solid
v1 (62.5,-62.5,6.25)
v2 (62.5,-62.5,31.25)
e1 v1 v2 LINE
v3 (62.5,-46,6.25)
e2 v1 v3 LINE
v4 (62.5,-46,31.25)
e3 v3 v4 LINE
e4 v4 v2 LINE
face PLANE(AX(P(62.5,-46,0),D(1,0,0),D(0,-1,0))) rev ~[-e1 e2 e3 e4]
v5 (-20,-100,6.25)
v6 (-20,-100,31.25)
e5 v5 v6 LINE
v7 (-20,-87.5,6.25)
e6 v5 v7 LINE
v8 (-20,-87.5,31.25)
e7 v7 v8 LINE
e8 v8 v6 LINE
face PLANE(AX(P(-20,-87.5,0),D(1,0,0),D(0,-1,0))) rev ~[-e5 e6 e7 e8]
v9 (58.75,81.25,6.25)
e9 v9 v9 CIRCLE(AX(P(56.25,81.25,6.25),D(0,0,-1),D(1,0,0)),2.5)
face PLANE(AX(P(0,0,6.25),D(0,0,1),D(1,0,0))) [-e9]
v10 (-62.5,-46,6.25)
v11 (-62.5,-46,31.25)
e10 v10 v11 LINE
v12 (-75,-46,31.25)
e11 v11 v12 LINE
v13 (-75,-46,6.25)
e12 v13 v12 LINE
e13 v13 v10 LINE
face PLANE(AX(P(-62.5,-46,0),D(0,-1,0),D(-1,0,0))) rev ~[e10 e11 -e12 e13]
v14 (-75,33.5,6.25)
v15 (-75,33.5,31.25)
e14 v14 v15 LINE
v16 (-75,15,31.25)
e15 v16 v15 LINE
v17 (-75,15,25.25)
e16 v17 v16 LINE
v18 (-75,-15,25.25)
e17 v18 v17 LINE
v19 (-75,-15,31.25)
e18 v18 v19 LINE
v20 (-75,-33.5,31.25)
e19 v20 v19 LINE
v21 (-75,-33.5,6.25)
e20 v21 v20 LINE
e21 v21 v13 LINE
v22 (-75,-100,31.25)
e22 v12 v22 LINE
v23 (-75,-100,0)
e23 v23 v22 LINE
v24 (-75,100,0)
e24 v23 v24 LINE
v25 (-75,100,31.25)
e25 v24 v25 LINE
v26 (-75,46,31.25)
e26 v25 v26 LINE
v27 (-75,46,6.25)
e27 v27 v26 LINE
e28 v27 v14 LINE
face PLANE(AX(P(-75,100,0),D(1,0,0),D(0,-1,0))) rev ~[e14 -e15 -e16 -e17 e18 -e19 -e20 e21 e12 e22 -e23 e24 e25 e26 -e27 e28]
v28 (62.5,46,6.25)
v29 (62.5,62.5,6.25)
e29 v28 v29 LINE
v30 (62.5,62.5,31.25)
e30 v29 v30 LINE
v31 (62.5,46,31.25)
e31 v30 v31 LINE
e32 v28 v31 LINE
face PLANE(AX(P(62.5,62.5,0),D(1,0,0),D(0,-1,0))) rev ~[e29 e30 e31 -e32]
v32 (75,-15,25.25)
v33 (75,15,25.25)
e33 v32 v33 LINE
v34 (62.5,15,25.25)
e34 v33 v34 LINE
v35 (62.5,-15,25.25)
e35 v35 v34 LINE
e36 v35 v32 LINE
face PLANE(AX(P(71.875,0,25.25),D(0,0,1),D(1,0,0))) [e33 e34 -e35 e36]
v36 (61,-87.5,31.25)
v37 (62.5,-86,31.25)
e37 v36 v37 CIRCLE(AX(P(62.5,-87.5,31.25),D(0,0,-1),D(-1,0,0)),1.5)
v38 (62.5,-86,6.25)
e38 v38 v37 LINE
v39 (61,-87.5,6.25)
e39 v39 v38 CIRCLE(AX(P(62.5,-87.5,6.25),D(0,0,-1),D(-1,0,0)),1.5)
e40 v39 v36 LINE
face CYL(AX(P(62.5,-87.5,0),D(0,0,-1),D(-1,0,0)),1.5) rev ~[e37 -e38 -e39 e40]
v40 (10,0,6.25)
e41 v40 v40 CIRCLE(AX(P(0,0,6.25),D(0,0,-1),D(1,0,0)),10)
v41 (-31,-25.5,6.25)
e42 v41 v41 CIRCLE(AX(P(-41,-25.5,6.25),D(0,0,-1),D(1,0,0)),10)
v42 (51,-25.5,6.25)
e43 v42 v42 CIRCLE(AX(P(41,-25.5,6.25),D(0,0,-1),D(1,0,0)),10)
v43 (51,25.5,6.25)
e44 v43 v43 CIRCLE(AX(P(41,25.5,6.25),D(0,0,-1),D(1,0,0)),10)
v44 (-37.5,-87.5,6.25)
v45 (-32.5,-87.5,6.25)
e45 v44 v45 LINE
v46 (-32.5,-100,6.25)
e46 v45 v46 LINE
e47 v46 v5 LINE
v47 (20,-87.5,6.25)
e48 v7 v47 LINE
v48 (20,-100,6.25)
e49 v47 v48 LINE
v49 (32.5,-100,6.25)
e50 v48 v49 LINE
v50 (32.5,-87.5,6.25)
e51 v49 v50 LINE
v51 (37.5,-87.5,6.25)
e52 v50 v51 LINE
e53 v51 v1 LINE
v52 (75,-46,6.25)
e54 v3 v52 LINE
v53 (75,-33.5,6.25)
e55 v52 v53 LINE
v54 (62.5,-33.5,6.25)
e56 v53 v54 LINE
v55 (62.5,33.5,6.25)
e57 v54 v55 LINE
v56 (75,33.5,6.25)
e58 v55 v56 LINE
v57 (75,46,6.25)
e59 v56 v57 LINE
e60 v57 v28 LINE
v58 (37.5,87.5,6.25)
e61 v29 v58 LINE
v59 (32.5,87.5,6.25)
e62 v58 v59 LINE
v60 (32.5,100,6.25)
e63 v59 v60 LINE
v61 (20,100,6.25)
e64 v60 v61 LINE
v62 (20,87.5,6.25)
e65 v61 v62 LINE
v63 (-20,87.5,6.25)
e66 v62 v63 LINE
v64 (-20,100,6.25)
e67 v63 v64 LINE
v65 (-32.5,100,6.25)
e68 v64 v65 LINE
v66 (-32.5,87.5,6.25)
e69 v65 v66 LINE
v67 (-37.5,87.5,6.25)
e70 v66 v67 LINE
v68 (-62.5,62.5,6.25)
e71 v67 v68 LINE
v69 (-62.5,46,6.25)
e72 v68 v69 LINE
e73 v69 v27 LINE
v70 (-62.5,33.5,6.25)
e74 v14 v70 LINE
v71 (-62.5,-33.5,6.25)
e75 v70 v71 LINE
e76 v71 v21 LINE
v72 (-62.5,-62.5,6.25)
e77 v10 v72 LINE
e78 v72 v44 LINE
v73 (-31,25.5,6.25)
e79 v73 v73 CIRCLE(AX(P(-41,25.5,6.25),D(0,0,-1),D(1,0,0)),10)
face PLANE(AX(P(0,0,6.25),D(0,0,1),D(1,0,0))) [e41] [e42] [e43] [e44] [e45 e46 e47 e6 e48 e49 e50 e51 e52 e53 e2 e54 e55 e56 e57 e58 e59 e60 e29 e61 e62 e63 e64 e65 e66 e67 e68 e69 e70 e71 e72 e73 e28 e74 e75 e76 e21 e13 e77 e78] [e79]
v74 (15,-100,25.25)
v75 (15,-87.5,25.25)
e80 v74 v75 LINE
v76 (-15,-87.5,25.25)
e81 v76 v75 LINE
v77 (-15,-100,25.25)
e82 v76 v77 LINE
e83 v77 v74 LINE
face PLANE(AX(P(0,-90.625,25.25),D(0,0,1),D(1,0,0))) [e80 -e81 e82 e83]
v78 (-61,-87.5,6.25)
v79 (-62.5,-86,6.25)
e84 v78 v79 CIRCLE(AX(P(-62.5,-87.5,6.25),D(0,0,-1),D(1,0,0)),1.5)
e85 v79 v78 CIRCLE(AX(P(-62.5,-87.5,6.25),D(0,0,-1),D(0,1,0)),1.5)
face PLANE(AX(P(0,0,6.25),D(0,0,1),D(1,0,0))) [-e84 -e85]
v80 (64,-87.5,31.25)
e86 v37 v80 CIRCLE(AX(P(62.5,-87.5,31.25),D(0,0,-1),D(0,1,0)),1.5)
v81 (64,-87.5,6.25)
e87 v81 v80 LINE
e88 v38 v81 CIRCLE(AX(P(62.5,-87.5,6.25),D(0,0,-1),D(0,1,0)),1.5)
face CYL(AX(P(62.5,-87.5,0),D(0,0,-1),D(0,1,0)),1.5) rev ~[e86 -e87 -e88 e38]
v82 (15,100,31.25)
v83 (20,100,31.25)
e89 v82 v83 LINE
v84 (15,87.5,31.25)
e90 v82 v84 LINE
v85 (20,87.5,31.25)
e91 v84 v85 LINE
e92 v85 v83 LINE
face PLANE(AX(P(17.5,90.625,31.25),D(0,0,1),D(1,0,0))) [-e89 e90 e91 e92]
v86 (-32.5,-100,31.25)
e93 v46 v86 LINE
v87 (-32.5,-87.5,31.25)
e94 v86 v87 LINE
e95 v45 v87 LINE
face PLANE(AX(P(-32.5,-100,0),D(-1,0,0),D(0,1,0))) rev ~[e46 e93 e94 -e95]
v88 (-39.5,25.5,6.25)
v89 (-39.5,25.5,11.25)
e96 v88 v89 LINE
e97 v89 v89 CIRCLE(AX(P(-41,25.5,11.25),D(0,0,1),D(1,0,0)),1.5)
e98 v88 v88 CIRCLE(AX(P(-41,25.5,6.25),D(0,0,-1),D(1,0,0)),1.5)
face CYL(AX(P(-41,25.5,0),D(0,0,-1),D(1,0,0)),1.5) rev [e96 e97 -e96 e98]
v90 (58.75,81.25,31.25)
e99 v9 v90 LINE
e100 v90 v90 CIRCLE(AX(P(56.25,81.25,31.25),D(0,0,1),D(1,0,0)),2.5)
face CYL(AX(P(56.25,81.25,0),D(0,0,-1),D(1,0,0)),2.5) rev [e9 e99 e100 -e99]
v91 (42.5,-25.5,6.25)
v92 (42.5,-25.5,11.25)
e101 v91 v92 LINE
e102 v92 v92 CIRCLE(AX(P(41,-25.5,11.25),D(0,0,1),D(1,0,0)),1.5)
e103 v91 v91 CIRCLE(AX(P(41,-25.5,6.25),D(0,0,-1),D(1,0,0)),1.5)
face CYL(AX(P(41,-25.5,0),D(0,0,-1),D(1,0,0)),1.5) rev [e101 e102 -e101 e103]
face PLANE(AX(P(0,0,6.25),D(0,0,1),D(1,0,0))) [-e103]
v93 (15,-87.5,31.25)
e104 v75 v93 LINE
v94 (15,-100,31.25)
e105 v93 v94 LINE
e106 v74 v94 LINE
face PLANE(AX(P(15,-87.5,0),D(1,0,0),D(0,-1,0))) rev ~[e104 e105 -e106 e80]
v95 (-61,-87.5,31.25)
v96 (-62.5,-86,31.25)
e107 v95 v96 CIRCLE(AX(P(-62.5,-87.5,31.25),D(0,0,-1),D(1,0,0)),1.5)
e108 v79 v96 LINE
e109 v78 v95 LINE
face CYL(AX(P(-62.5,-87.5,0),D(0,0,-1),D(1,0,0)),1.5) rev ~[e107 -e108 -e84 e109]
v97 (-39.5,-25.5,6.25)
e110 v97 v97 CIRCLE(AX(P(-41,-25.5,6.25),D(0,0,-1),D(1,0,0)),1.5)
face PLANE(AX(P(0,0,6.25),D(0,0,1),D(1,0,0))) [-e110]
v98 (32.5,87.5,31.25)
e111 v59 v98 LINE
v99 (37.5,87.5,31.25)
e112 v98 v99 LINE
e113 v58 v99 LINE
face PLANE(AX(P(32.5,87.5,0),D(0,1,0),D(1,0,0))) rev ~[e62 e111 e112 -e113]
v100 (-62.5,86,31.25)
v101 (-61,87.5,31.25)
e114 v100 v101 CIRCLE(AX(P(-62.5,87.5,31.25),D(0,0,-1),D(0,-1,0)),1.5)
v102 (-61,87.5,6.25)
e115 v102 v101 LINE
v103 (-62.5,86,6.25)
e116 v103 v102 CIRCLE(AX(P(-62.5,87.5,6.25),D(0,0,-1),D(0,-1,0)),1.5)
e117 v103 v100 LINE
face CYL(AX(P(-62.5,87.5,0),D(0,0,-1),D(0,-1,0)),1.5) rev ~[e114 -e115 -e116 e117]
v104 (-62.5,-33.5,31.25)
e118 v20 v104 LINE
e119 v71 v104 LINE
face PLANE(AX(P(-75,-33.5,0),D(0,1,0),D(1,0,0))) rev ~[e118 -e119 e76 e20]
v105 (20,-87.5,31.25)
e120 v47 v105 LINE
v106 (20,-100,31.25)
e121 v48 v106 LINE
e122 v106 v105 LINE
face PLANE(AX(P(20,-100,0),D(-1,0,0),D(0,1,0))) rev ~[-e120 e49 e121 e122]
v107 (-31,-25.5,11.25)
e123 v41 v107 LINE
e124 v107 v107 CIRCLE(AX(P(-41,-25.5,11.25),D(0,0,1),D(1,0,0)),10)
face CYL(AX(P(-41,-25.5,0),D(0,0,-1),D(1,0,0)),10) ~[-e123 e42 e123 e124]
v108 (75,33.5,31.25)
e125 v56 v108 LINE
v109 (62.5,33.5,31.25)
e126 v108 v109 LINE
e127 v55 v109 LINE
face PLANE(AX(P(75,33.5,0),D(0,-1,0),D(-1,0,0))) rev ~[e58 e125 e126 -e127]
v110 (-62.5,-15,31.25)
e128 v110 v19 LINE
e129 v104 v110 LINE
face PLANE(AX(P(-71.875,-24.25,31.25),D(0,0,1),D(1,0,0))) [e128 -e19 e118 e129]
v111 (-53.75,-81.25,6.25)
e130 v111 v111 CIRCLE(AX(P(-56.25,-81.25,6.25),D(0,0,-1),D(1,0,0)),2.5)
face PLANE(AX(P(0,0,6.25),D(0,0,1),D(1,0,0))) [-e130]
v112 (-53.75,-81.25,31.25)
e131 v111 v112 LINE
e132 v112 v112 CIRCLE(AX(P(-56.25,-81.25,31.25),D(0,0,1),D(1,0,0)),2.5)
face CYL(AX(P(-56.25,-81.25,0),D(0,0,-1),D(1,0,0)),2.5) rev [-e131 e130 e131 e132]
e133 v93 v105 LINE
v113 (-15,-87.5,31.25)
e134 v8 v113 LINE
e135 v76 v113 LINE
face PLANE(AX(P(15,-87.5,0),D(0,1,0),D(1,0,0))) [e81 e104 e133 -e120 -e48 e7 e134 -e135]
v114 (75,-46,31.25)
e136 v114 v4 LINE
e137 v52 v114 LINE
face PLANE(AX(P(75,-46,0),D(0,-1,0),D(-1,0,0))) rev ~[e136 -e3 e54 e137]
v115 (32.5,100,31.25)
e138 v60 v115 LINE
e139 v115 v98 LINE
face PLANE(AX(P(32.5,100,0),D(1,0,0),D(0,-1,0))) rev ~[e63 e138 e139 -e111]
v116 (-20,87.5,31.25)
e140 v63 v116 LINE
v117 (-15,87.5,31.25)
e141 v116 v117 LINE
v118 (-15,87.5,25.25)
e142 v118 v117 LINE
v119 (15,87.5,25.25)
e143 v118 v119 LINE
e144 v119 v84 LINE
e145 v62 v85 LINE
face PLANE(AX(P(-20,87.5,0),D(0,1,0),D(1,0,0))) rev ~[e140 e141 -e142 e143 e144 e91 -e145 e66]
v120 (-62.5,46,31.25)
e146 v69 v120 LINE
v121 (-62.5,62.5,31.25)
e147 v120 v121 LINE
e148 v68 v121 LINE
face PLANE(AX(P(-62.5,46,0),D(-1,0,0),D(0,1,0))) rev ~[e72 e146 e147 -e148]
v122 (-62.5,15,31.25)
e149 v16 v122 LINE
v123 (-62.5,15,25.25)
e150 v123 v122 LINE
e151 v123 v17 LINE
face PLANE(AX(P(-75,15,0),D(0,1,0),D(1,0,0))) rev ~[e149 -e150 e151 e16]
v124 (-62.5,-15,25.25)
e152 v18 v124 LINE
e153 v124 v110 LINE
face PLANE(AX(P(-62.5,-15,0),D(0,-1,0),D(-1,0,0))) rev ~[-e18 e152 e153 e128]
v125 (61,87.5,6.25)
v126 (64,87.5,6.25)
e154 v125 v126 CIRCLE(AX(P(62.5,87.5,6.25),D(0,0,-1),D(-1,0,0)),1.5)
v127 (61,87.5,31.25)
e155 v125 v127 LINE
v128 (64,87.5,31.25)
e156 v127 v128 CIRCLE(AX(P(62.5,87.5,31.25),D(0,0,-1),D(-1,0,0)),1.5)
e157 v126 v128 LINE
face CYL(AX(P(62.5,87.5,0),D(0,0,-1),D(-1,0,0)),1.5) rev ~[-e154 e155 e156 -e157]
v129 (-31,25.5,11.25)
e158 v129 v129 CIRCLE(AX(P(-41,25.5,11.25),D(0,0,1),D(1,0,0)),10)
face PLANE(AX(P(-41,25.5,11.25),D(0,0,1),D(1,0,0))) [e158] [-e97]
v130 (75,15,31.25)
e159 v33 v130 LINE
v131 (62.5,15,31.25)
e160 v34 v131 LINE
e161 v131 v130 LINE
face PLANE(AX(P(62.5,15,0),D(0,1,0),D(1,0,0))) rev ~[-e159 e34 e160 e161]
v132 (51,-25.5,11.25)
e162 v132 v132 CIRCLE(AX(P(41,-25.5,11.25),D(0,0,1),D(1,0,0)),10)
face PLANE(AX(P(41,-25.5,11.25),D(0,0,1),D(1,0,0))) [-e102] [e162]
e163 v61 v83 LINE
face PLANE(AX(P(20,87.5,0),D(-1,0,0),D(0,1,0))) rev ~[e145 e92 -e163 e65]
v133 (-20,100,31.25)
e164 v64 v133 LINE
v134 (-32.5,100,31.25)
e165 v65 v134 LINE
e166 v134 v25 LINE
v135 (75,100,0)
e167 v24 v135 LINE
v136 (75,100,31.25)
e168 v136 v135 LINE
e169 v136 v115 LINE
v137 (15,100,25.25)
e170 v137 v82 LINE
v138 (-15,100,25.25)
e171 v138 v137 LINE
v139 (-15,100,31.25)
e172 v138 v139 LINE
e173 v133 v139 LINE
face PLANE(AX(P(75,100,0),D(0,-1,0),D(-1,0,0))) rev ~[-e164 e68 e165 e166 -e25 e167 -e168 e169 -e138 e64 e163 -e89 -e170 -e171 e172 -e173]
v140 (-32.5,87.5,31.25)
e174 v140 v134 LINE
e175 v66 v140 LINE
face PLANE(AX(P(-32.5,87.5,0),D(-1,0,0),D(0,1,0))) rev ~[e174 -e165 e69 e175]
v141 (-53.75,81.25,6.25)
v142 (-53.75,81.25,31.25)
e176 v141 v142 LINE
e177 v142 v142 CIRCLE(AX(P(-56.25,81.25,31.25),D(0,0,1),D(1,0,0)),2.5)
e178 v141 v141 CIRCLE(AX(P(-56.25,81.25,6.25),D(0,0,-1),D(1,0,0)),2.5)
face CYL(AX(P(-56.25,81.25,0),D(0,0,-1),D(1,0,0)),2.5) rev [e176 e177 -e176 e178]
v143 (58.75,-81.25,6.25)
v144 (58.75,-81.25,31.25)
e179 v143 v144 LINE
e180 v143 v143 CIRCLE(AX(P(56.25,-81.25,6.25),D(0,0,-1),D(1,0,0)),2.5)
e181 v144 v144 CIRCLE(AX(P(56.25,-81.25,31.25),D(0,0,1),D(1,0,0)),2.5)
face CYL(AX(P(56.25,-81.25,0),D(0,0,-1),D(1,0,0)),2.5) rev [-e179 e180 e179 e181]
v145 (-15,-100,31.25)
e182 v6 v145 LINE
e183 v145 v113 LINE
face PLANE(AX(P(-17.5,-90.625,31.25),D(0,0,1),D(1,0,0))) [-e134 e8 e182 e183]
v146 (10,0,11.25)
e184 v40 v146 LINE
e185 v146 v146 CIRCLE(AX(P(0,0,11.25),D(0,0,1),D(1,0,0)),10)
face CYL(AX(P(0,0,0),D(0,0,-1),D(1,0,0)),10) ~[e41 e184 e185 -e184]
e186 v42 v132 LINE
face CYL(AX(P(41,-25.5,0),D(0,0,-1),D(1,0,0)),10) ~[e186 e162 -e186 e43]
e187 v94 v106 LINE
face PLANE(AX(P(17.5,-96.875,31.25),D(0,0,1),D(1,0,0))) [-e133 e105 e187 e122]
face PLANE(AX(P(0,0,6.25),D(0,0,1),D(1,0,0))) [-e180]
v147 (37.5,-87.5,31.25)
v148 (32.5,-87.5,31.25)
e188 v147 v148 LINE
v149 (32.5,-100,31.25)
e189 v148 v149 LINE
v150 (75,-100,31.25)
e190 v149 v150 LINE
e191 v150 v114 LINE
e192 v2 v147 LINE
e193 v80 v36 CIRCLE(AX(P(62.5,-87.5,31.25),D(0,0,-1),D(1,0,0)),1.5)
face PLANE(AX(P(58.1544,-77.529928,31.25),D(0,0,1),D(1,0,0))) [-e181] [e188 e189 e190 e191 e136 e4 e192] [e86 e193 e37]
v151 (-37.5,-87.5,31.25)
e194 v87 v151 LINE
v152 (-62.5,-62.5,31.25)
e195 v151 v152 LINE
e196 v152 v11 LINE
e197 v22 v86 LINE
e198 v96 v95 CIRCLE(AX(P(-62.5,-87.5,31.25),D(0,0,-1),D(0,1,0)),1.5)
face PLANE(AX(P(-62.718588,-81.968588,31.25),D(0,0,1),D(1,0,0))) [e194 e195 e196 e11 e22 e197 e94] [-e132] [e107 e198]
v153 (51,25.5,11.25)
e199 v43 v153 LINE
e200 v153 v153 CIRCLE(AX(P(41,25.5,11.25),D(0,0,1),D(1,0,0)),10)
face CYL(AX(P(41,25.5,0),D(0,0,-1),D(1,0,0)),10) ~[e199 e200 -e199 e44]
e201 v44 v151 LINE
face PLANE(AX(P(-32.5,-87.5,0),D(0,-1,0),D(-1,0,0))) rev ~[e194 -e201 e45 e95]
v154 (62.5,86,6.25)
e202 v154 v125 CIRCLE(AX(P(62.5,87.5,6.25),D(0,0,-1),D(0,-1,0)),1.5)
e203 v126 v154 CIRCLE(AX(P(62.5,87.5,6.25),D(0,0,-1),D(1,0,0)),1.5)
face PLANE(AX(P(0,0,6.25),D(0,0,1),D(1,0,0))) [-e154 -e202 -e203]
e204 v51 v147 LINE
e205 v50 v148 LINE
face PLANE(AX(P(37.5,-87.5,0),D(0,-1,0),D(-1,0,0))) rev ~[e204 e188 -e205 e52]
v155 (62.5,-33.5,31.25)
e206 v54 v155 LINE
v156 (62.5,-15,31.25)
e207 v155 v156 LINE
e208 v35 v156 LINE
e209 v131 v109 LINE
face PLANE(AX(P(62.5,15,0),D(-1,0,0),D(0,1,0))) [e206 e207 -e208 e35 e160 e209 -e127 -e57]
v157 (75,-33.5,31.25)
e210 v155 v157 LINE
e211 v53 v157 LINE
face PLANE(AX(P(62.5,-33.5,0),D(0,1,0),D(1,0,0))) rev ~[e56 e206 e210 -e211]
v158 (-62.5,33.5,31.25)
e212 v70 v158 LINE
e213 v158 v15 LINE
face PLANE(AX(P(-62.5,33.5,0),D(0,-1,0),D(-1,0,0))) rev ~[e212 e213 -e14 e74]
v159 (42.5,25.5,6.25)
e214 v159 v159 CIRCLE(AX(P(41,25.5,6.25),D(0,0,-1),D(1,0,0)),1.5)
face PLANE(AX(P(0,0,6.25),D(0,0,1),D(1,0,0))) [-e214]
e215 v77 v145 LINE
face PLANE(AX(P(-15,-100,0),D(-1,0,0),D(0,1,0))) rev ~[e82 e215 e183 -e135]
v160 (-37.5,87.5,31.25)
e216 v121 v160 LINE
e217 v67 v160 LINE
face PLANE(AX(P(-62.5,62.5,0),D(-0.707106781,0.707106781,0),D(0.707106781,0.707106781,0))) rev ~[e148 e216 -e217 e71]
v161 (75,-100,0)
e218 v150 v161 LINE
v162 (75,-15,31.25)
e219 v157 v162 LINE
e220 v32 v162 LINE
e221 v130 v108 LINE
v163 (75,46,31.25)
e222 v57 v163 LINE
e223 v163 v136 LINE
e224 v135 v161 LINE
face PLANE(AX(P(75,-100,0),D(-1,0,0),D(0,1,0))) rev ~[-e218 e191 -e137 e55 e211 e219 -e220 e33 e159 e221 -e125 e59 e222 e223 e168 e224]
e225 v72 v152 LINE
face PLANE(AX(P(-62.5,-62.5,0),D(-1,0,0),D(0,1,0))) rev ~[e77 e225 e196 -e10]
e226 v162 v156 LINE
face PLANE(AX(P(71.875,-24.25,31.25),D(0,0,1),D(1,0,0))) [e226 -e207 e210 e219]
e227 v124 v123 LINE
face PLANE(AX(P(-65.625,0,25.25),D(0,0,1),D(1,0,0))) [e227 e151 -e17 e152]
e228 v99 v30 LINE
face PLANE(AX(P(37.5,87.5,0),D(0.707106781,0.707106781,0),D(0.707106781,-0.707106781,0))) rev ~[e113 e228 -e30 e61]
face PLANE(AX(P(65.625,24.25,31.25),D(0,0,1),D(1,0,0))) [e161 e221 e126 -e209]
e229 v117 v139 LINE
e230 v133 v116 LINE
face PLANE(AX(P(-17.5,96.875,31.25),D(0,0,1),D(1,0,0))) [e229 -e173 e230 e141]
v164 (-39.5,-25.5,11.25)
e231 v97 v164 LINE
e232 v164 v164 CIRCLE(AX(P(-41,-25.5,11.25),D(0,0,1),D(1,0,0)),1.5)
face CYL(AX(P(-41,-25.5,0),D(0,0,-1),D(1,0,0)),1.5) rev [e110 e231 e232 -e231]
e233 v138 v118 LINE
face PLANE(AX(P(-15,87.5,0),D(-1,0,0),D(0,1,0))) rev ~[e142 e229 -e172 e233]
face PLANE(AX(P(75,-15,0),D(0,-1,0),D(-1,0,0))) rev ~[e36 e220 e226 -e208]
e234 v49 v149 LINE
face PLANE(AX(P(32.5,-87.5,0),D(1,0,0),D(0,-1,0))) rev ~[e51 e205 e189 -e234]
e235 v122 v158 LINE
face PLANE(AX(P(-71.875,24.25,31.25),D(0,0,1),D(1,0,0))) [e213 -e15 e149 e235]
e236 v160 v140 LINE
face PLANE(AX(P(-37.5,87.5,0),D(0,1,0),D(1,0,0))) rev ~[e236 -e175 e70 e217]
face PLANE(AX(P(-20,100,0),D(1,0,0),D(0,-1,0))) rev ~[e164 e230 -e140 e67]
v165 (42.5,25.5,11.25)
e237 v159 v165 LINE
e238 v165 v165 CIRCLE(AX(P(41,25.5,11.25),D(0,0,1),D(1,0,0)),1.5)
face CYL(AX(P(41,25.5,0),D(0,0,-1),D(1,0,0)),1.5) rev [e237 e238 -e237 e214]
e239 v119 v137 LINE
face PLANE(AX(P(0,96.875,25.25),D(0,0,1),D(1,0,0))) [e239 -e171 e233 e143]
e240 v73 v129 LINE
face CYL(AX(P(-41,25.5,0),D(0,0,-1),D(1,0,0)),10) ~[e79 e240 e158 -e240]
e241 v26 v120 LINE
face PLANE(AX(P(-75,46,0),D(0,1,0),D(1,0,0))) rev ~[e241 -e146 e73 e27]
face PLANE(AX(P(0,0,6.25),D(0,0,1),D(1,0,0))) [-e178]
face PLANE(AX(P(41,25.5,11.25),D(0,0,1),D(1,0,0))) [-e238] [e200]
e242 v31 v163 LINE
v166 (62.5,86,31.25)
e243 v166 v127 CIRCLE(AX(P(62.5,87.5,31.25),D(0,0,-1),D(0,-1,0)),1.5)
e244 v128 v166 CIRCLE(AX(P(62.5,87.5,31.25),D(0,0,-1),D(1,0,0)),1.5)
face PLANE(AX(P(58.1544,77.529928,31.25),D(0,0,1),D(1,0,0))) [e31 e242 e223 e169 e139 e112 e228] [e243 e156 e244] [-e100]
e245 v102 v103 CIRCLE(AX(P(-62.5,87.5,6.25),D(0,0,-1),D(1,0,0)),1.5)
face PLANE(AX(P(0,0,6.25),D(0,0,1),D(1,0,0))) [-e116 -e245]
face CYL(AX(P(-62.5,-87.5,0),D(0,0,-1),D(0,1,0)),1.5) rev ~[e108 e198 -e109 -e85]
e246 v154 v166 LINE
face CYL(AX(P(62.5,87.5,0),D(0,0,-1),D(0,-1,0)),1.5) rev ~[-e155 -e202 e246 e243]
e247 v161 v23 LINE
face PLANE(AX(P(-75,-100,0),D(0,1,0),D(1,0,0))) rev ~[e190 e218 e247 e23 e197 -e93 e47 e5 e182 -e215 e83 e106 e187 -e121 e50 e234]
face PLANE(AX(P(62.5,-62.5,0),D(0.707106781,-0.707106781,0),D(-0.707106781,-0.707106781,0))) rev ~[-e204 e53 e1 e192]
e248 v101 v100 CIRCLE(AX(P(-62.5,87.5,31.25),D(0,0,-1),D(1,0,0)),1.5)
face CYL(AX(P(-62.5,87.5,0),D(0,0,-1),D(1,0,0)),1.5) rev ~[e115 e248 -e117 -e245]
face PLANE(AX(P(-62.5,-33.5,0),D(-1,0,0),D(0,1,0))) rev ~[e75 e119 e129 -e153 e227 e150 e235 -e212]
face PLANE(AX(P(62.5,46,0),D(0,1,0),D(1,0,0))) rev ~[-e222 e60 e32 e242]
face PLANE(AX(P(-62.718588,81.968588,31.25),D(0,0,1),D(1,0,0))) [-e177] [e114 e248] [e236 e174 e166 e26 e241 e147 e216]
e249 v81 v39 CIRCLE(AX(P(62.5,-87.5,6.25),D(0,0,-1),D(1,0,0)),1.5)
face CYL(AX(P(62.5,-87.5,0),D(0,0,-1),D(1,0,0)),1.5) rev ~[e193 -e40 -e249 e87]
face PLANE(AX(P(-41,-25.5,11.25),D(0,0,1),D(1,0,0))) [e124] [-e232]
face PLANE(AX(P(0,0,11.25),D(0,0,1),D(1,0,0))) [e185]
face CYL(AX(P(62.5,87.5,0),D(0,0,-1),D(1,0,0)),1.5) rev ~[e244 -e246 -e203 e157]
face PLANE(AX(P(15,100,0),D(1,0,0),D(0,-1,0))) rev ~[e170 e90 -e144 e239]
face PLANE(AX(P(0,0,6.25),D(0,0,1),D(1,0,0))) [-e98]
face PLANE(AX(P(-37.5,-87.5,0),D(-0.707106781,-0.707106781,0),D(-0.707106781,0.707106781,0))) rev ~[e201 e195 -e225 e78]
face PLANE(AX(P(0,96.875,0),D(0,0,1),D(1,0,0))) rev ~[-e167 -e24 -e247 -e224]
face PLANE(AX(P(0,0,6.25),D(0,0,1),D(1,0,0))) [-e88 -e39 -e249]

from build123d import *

# Parameters (mm, degrees)
F0_R     = 10
F0_R_2   = 1.5
F0_R_3   = 2.5
F0_W     = 30
F0_H     = 6.25
F0_W_2   = 6.25
F0_H_2   = 30
F0_H_3   = 18.5
F0_H_4   = 12.5
F0_W_3   = 12.5
F0_W_4   = 5
F1_DEPTH = 6.25
F2_DEPTH = 11.25
F3_DEPTH = 31.25
F4_DEPTH = 25.25


with BuildPart() as f1:
    # F0 (on Top) → F1 (new body)
    with BuildSketch(Plane.XY):
        Polygon((-20, 87.5), (-32.5, 87.5), (-37.5, 87.5), (-62.5, 62.5), (-62.5, 46), (-62.5, 33.5), (-62.5, 15), (-62.5, -15), (-62.5, -33.5), (-62.5, -46), (-62.5, -62.5), (-37.5, -87.5), (-32.5, -87.5), (-20, -87.5), (-15, -87.5), (15, -87.5), (20, -87.5), (32.5, -87.5), (37.5, -87.5), (62.5, -62.5), (62.5, -46), (62.5, -33.5), (62.5, -15), (62.5, 15), (62.5, 33.5), (62.5, 46), (62.5, 62.5), (37.5, 87.5), (32.5, 87.5), (20, 87.5), (15, 87.5), (-15, 87.5), align=None)
        with Locations((-41, -25.5)):
            Circle(F0_R, mode=Mode.SUBTRACT)
        with Locations((41, -25.5)):
            Circle(F0_R, mode=Mode.SUBTRACT)
        with Locations((-41, 25.5)):
            Circle(F0_R, mode=Mode.SUBTRACT)
        Circle(F0_R, mode=Mode.SUBTRACT)
        with Locations((41, 25.5)):
            Circle(F0_R, mode=Mode.SUBTRACT)
        Polygon((75, -100), (75, -46), (68.75, -46), (68.75, -93.75), (32.5, -93.75), (32.5, -100), align=None)
        Polygon((75, 100), (32.5, 100), (32.5, 93.75), (68.75, 93.75), (68.75, 46), (75, 46), align=None)
        Polygon((-32.5, 100), (-75, 100), (-75, 46), (-68.75, 46), (-68.75, 93.75), (-32.5, 93.75), align=None)
        Polygon((-68.75, -46), (-75, -46), (-75, -100), (-32.5, -100), (-32.5, -93.75), (-68.75, -93.75), align=None)
        with BuildLine():
            Line((-32.5, 87.5), (-32.5, 93.75))
            Line((-32.5, 93.75), (-68.75, 93.75))
            Line((-68.75, 93.75), (-68.75, 46))
            Line((-68.75, 46), (-62.5, 46))
            Line((-62.5, 46), (-62.5, 62.5))
            Line((-62.5, 62.5), (-62.5, 86))
            ThreePointArc((-62.5, 86), (-63.5606601718, 88.5606601718), (-61, 87.5))
            Line((-61, 87.5), (-37.5, 87.5))
            Line((-37.5, 87.5), (-32.5, 87.5))
        make_face()
        with BuildLine():
            Line((-62.5, -46), (-68.75, -46))
            Line((-68.75, -46), (-68.75, -93.75))
            Line((-68.75, -93.75), (-32.5, -93.75))
            Line((-32.5, -93.75), (-32.5, -87.5))
            Line((-32.5, -87.5), (-37.5, -87.5))
            Line((-37.5, -87.5), (-61, -87.5))
            ThreePointArc((-61, -87.5), (-63.5606601718, -88.5606601718), (-62.5, -86))
            Line((-62.5, -86), (-62.5, -62.5))
            Line((-62.5, -62.5), (-62.5, -46))
        make_face()
        with BuildLine():
            Line((68.75, 93.75), (32.5, 93.75))
            Line((32.5, 93.75), (32.5, 87.5))
            Line((32.5, 87.5), (37.5, 87.5))
            Line((37.5, 87.5), (61, 87.5))
            ThreePointArc((61, 87.5), (62.5, 89), (64, 87.5))
            ThreePointArc((64, 87.5), (63.5606601718, 86.4393398282), (62.5, 86))
            Line((62.5, 86), (62.5, 62.5))
            Line((62.5, 62.5), (62.5, 46))
            Line((62.5, 46), (68.75, 46))
            Line((68.75, 46), (68.75, 93.75))
        make_face()
        with BuildLine():
            Line((68.75, -93.75), (68.75, -46))
            Line((68.75, -46), (62.5, -46))
            Line((62.5, -46), (62.5, -62.5))
            Line((62.5, -62.5), (62.5, -86))
            ThreePointArc((62.5, -86), (63.5606601718, -86.4393398282), (64, -87.5))
            ThreePointArc((64, -87.5), (62.5, -89), (61, -87.5))
            Line((61, -87.5), (37.5, -87.5))
            Line((37.5, -87.5), (32.5, -87.5))
            Line((32.5, -87.5), (32.5, -93.75))
            Line((32.5, -93.75), (68.75, -93.75))
        make_face()
        with Locations((41, -25.5)):
            Circle(F0_R)
        with Locations((41, -25.5)):
            Circle(F0_R_2, mode=Mode.SUBTRACT)
        with Locations((-41, -25.5)):
            Circle(F0_R)
        with Locations((-41, -25.5)):
            Circle(F0_R_2, mode=Mode.SUBTRACT)
        with Locations((-41, 25.5)):
            Circle(F0_R)
        with Locations((-41, 25.5)):
            Circle(F0_R_2, mode=Mode.SUBTRACT)
        with Locations((41, 25.5)):
            Circle(F0_R)
        with Locations((41, 25.5)):
            Circle(F0_R_2, mode=Mode.SUBTRACT)
        Circle(F0_R)
        with BuildLine():
            Line((62.5, -86), (62.5, -62.5))
            Line((62.5, -62.5), (37.5, -87.5))
            Line((37.5, -87.5), (61, -87.5))
            ThreePointArc((61, -87.5), (61.4393398282, -86.4393398282), (62.5, -86))
        make_face()
        with Locations((56.25, -81.25)):
            Circle(F0_R_3, mode=Mode.SUBTRACT)
        with BuildLine():
            Line((-37.5, -87.5), (-62.5, -62.5))
            Line((-62.5, -62.5), (-62.5, -86))
            ThreePointArc((-62.5, -86), (-61.4393398282, -86.4393398282), (-61, -87.5))
            Line((-61, -87.5), (-37.5, -87.5))
        make_face()
        with Locations((-56.25, -81.25)):
            Circle(F0_R_3, mode=Mode.SUBTRACT)
        with BuildLine():
            Line((61, 87.5), (37.5, 87.5))
            Line((37.5, 87.5), (62.5, 62.5))
            Line((62.5, 62.5), (62.5, 86))
            ThreePointArc((62.5, 86), (61.4393398282, 86.4393398282), (61, 87.5))
        make_face()
        with Locations((56.25, 81.25)):
            Circle(F0_R_3, mode=Mode.SUBTRACT)
        with BuildLine():
            Line((-62.5, 62.5), (-37.5, 87.5))
            Line((-37.5, 87.5), (-61, 87.5))
            ThreePointArc((-61, 87.5), (-61.4393398282, 86.4393398282), (-62.5, 86))
            Line((-62.5, 86), (-62.5, 62.5))
        make_face()
        with Locations((-56.25, 81.25)):
            Circle(F0_R_3, mode=Mode.SUBTRACT)
        with Locations((0, -90.625)):
            Rectangle(F0_W, F0_H)
        with Locations((-71.875, 0)):
            Rectangle(F0_W_2, F0_H_2)
        with Locations((71.875, 0)):
            Rectangle(F0_W_2, F0_H_2)
        with Locations((0, 90.625)):
            Rectangle(F0_W, F0_H)
        with Locations((-65.625, 0)):
            Rectangle(F0_W_2, F0_H_2)
        with Locations((0, -96.875)):
            Rectangle(F0_W, F0_H)
        with Locations((65.625, 0)):
            Rectangle(F0_W_2, F0_H_2)
        with Locations((0, 96.875)):
            Rectangle(F0_W, F0_H)
        with Locations((71.875, -24.25)):
            Rectangle(F0_W_2, F0_H_3)
        with Locations((-71.875, 24.25)):
            Rectangle(F0_W_2, F0_H_3)
        with Locations((-65.625, -24.25)):
            Rectangle(F0_W_2, F0_H_3)
        with Locations((65.625, -24.25)):
            Rectangle(F0_W_2, F0_H_3)
        with Locations((65.625, 24.25)):
            Rectangle(F0_W_2, F0_H_3)
        with Locations((71.875, 24.25)):
            Rectangle(F0_W_2, F0_H_3)
        with Locations((-71.875, -24.25)):
            Rectangle(F0_W_2, F0_H_3)
        with Locations((-65.625, 24.25)):
            Rectangle(F0_W_2, F0_H_3)
        with Locations((-71.875, 39.75)):
            Rectangle(F0_W_2, F0_H_4)
        with Locations((-71.875, -39.75)):
            Rectangle(F0_W_2, F0_H_4)
        with Locations((26.25, 96.875)):
            Rectangle(F0_W_3, F0_H)
        with Locations((-26.25, -96.875)):
            Rectangle(F0_W_3, F0_H)
        with Locations((-26.25, 90.625)):
            Rectangle(F0_W_3, F0_H)
        with Locations((-65.625, -39.75)):
            Rectangle(F0_W_2, F0_H_4)
        with Locations((-26.25, -90.625)):
            Rectangle(F0_W_3, F0_H)
        with Locations((-65.625, 39.75)):
            Rectangle(F0_W_2, F0_H_4)
        with Locations((65.625, 39.75)):
            Rectangle(F0_W_2, F0_H_4)
        with Locations((26.25, -96.875)):
            Rectangle(F0_W_3, F0_H)
        with Locations((26.25, 90.625)):
            Rectangle(F0_W_3, F0_H)
        with Locations((71.875, -39.75)):
            Rectangle(F0_W_2, F0_H_4)
        with Locations((26.25, -90.625)):
            Rectangle(F0_W_3, F0_H)
        with Locations((-26.25, 96.875)):
            Rectangle(F0_W_3, F0_H)
        with Locations((65.625, -39.75)):
            Rectangle(F0_W_2, F0_H_4)
        with Locations((71.875, 39.75)):
            Rectangle(F0_W_2, F0_H_4)
        with Locations((-17.5, -96.875)):
            Rectangle(F0_W_4, F0_H)
        with Locations((17.5, 96.875)):
            Rectangle(F0_W_4, F0_H)
        with Locations((-17.5, -90.625)):
            Rectangle(F0_W_4, F0_H)
        with Locations((-17.5, 90.625)):
            Rectangle(F0_W_4, F0_H)
        with Locations((17.5, -90.625)):
            Rectangle(F0_W_4, F0_H)
        with Locations((-17.5, 96.875)):
            Rectangle(F0_W_4, F0_H)
        with Locations((17.5, 90.625)):
            Rectangle(F0_W_4, F0_H)
        with Locations((17.5, -96.875)):
            Rectangle(F0_W_4, F0_H)
        with Locations((56.25, -81.25)):
            Circle(F0_R_3)
        with Locations((-56.25, -81.25)):
            Circle(F0_R_3)
        with Locations((-56.25, 81.25)):
            Circle(F0_R_3)
        with Locations((56.25, 81.25)):
            Circle(F0_R_3)
        with Locations((-41, 25.5)):
            Circle(F0_R_2)
        with Locations((-41, -25.5)):
            Circle(F0_R_2)
        with Locations((41, 25.5)):
            Circle(F0_R_2)
        with Locations((41, -25.5)):
            Circle(F0_R_2)
        with BuildLine():
            ThreePointArc((64, 87.5), (62.5, 89), (61, 87.5))
            Line((61, 87.5), (62.5, 87.5))
            Line((62.5, 87.5), (62.5, 86))
            ThreePointArc((62.5, 86), (63.5606601718, 86.4393398282), (64, 87.5))
        make_face()
        with BuildLine():
            Line((-62.5, 87.5), (-61, 87.5))
            ThreePointArc((-61, 87.5), (-63.5606601718, 88.5606601718), (-62.5, 86))
            Line((-62.5, 86), (-62.5, 87.5))
        make_face()
        with BuildLine():
            ThreePointArc((64, -87.5), (63.5606601718, -86.4393398282), (62.5, -86))
            Line((62.5, -86), (62.5, -87.5))
            Line((62.5, -87.5), (61, -87.5))
            ThreePointArc((61, -87.5), (62.5, -89), (64, -87.5))
        make_face()
        with BuildLine():
            Line((-62.5, -87.5), (-62.5, -86))
            ThreePointArc((-62.5, -86), (-63.5606601718, -88.5606601718), (-61, -87.5))
            Line((-61, -87.5), (-62.5, -87.5))
        make_face()
        with BuildLine():
            ThreePointArc((-62.5, 86), (-61.4393398282, 86.4393398282), (-61, 87.5))
            Line((-61, 87.5), (-62.5, 87.5))
            Line((-62.5, 87.5), (-62.5, 86))
        make_face()
        with BuildLine():
            Line((62.5, -87.5), (62.5, -86))
            ThreePointArc((62.5, -86), (61.4393398282, -86.4393398282), (61, -87.5))
            Line((61, -87.5), (62.5, -87.5))
        make_face()
        with BuildLine():
            ThreePointArc((-61, -87.5), (-61.4393398282, -86.4393398282), (-62.5, -86))
            Line((-62.5, -86), (-62.5, -87.5))
            Line((-62.5, -87.5), (-61, -87.5))
        make_face()
        with BuildLine():
            Line((62.5, 87.5), (61, 87.5))
            ThreePointArc((61, 87.5), (61.4393398282, 86.4393398282), (62.5, 86))
            Line((62.5, 86), (62.5, 87.5))
        make_face()
    extrude(amount=F1_DEPTH)

    # F0 (on Top) → F2 (join)
    with BuildSketch(Plane.XY):
        with Locations((-41, 25.5)):
            Circle(F0_R)
        with Locations((-41, 25.5)):
            Circle(F0_R_2, mode=Mode.SUBTRACT)
        with Locations((41, 25.5)):
            Circle(F0_R)
        with Locations((41, 25.5)):
            Circle(F0_R_2, mode=Mode.SUBTRACT)
        Circle(F0_R)
        with Locations((41, -25.5)):
            Circle(F0_R)
        with Locations((41, -25.5)):
            Circle(F0_R_2, mode=Mode.SUBTRACT)
        with Locations((-41, -25.5)):
            Circle(F0_R)
        with Locations((-41, -25.5)):
            Circle(F0_R_2, mode=Mode.SUBTRACT)
    extrude(amount=F2_DEPTH)

    # F0 (on Top) → F3 (join)
    with BuildSketch(Plane.XY):
        Polygon((-32.5, 100), (-75, 100), (-75, 46), (-68.75, 46), (-68.75, 93.75), (-32.5, 93.75), align=None)
        with BuildLine():
            Line((-32.5, 87.5), (-32.5, 93.75))
            Line((-32.5, 93.75), (-68.75, 93.75))
            Line((-68.75, 93.75), (-68.75, 46))
            Line((-68.75, 46), (-62.5, 46))
            Line((-62.5, 46), (-62.5, 62.5))
            Line((-62.5, 62.5), (-62.5, 86))
            ThreePointArc((-62.5, 86), (-63.5606601718, 88.5606601718), (-61, 87.5))
            Line((-61, 87.5), (-37.5, 87.5))
            Line((-37.5, 87.5), (-32.5, 87.5))
        make_face()
        with Locations((-71.875, 24.25)):
            Rectangle(F0_W_2, F0_H_3)
        with Locations((-65.625, 24.25)):
            Rectangle(F0_W_2, F0_H_3)
        with Locations((-71.875, -24.25)):
            Rectangle(F0_W_2, F0_H_3)
        with Locations((-65.625, -24.25)):
            Rectangle(F0_W_2, F0_H_3)
        Polygon((-68.75, -46), (-75, -46), (-75, -100), (-32.5, -100), (-32.5, -93.75), (-68.75, -93.75), align=None)
        with BuildLine():
            Line((-62.5, -46), (-68.75, -46))
            Line((-68.75, -46), (-68.75, -93.75))
            Line((-68.75, -93.75), (-32.5, -93.75))
            Line((-32.5, -93.75), (-32.5, -87.5))
            Line((-32.5, -87.5), (-37.5, -87.5))
            Line((-37.5, -87.5), (-61, -87.5))
            ThreePointArc((-61, -87.5), (-63.5606601718, -88.5606601718), (-62.5, -86))
            Line((-62.5, -86), (-62.5, -62.5))
            Line((-62.5, -62.5), (-62.5, -46))
        make_face()
        with BuildLine():
            Line((-37.5, -87.5), (-62.5, -62.5))
            Line((-62.5, -62.5), (-62.5, -86))
            ThreePointArc((-62.5, -86), (-61.4393398282, -86.4393398282), (-61, -87.5))
            Line((-61, -87.5), (-37.5, -87.5))
        make_face()
        with Locations((-56.25, -81.25)):
            Circle(F0_R_3, mode=Mode.SUBTRACT)
        with Locations((-17.5, -90.625)):
            Rectangle(F0_W_4, F0_H)
        with Locations((-17.5, -96.875)):
            Rectangle(F0_W_4, F0_H)
        with Locations((17.5, -96.875)):
            Rectangle(F0_W_4, F0_H)
        with Locations((17.5, -90.625)):
            Rectangle(F0_W_4, F0_H)
        with BuildLine():
            Line((68.75, -93.75), (68.75, -46))
            Line((68.75, -46), (62.5, -46))
            Line((62.5, -46), (62.5, -62.5))
            Line((62.5, -62.5), (62.5, -86))
            ThreePointArc((62.5, -86), (63.5606601718, -86.4393398282), (64, -87.5))
            ThreePointArc((64, -87.5), (62.5, -89), (61, -87.5))
            Line((61, -87.5), (37.5, -87.5))
            Line((37.5, -87.5), (32.5, -87.5))
            Line((32.5, -87.5), (32.5, -93.75))
            Line((32.5, -93.75), (68.75, -93.75))
        make_face()
        Polygon((75, -100), (75, -46), (68.75, -46), (68.75, -93.75), (32.5, -93.75), (32.5, -100), align=None)
        with BuildLine():
            Line((62.5, -86), (62.5, -62.5))
            Line((62.5, -62.5), (37.5, -87.5))
            Line((37.5, -87.5), (61, -87.5))
            ThreePointArc((61, -87.5), (61.4393398282, -86.4393398282), (62.5, -86))
        make_face()
        with Locations((56.25, -81.25)):
            Circle(F0_R_3, mode=Mode.SUBTRACT)
        with Locations((71.875, -24.25)):
            Rectangle(F0_W_2, F0_H_3)
        with Locations((65.625, -24.25)):
            Rectangle(F0_W_2, F0_H_3)
        with Locations((65.625, 24.25)):
            Rectangle(F0_W_2, F0_H_3)
        with Locations((71.875, 24.25)):
            Rectangle(F0_W_2, F0_H_3)
        with BuildLine():
            Line((68.75, 93.75), (32.5, 93.75))
            Line((32.5, 93.75), (32.5, 87.5))
            Line((32.5, 87.5), (37.5, 87.5))
            Line((37.5, 87.5), (61, 87.5))
            ThreePointArc((61, 87.5), (62.5, 89), (64, 87.5))
            ThreePointArc((64, 87.5), (63.5606601718, 86.4393398282), (62.5, 86))
            Line((62.5, 86), (62.5, 62.5))
            Line((62.5, 62.5), (62.5, 46))
            Line((62.5, 46), (68.75, 46))
            Line((68.75, 46), (68.75, 93.75))
        make_face()
        Polygon((75, 100), (32.5, 100), (32.5, 93.75), (68.75, 93.75), (68.75, 46), (75, 46), align=None)
        with BuildLine():
            Line((61, 87.5), (37.5, 87.5))
            Line((37.5, 87.5), (62.5, 62.5))
            Line((62.5, 62.5), (62.5, 86))
            ThreePointArc((62.5, 86), (61.4393398282, 86.4393398282), (61, 87.5))
        make_face()
        with Locations((56.25, 81.25)):
            Circle(F0_R_3, mode=Mode.SUBTRACT)
        with Locations((17.5, 90.625)):
            Rectangle(F0_W_4, F0_H)
        with Locations((17.5, 96.875)):
            Rectangle(F0_W_4, F0_H)
        with Locations((-17.5, 96.875)):
            Rectangle(F0_W_4, F0_H)
        with Locations((-17.5, 90.625)):
            Rectangle(F0_W_4, F0_H)
        with BuildLine():
            Line((-62.5, 62.5), (-37.5, 87.5))
            Line((-37.5, 87.5), (-61, 87.5))
            ThreePointArc((-61, 87.5), (-61.4393398282, 86.4393398282), (-62.5, 86))
            Line((-62.5, 86), (-62.5, 62.5))
        make_face()
        with Locations((-56.25, 81.25)):
            Circle(F0_R_3, mode=Mode.SUBTRACT)
    extrude(amount=F3_DEPTH)

    # F0 (on Top) → F4 (join)
    with BuildSketch(Plane.XY):
        with Locations((0, 96.875)):
            Rectangle(F0_W, F0_H)
        with Locations((0, 90.625)):
            Rectangle(F0_W, F0_H)
        with Locations((71.875, 0)):
            Rectangle(F0_W_2, F0_H_2)
        with Locations((65.625, 0)):
            Rectangle(F0_W_2, F0_H_2)
        with Locations((-65.625, 0)):
            Rectangle(F0_W_2, F0_H_2)
        with Locations((-71.875, 0)):
            Rectangle(F0_W_2, F0_H_2)
        with Locations((0, -90.625)):
            Rectangle(F0_W, F0_H)
        with Locations((0, -96.875)):
            Rectangle(F0_W, F0_H)
    extrude(amount=F4_DEPTH)


solid = f1.part
